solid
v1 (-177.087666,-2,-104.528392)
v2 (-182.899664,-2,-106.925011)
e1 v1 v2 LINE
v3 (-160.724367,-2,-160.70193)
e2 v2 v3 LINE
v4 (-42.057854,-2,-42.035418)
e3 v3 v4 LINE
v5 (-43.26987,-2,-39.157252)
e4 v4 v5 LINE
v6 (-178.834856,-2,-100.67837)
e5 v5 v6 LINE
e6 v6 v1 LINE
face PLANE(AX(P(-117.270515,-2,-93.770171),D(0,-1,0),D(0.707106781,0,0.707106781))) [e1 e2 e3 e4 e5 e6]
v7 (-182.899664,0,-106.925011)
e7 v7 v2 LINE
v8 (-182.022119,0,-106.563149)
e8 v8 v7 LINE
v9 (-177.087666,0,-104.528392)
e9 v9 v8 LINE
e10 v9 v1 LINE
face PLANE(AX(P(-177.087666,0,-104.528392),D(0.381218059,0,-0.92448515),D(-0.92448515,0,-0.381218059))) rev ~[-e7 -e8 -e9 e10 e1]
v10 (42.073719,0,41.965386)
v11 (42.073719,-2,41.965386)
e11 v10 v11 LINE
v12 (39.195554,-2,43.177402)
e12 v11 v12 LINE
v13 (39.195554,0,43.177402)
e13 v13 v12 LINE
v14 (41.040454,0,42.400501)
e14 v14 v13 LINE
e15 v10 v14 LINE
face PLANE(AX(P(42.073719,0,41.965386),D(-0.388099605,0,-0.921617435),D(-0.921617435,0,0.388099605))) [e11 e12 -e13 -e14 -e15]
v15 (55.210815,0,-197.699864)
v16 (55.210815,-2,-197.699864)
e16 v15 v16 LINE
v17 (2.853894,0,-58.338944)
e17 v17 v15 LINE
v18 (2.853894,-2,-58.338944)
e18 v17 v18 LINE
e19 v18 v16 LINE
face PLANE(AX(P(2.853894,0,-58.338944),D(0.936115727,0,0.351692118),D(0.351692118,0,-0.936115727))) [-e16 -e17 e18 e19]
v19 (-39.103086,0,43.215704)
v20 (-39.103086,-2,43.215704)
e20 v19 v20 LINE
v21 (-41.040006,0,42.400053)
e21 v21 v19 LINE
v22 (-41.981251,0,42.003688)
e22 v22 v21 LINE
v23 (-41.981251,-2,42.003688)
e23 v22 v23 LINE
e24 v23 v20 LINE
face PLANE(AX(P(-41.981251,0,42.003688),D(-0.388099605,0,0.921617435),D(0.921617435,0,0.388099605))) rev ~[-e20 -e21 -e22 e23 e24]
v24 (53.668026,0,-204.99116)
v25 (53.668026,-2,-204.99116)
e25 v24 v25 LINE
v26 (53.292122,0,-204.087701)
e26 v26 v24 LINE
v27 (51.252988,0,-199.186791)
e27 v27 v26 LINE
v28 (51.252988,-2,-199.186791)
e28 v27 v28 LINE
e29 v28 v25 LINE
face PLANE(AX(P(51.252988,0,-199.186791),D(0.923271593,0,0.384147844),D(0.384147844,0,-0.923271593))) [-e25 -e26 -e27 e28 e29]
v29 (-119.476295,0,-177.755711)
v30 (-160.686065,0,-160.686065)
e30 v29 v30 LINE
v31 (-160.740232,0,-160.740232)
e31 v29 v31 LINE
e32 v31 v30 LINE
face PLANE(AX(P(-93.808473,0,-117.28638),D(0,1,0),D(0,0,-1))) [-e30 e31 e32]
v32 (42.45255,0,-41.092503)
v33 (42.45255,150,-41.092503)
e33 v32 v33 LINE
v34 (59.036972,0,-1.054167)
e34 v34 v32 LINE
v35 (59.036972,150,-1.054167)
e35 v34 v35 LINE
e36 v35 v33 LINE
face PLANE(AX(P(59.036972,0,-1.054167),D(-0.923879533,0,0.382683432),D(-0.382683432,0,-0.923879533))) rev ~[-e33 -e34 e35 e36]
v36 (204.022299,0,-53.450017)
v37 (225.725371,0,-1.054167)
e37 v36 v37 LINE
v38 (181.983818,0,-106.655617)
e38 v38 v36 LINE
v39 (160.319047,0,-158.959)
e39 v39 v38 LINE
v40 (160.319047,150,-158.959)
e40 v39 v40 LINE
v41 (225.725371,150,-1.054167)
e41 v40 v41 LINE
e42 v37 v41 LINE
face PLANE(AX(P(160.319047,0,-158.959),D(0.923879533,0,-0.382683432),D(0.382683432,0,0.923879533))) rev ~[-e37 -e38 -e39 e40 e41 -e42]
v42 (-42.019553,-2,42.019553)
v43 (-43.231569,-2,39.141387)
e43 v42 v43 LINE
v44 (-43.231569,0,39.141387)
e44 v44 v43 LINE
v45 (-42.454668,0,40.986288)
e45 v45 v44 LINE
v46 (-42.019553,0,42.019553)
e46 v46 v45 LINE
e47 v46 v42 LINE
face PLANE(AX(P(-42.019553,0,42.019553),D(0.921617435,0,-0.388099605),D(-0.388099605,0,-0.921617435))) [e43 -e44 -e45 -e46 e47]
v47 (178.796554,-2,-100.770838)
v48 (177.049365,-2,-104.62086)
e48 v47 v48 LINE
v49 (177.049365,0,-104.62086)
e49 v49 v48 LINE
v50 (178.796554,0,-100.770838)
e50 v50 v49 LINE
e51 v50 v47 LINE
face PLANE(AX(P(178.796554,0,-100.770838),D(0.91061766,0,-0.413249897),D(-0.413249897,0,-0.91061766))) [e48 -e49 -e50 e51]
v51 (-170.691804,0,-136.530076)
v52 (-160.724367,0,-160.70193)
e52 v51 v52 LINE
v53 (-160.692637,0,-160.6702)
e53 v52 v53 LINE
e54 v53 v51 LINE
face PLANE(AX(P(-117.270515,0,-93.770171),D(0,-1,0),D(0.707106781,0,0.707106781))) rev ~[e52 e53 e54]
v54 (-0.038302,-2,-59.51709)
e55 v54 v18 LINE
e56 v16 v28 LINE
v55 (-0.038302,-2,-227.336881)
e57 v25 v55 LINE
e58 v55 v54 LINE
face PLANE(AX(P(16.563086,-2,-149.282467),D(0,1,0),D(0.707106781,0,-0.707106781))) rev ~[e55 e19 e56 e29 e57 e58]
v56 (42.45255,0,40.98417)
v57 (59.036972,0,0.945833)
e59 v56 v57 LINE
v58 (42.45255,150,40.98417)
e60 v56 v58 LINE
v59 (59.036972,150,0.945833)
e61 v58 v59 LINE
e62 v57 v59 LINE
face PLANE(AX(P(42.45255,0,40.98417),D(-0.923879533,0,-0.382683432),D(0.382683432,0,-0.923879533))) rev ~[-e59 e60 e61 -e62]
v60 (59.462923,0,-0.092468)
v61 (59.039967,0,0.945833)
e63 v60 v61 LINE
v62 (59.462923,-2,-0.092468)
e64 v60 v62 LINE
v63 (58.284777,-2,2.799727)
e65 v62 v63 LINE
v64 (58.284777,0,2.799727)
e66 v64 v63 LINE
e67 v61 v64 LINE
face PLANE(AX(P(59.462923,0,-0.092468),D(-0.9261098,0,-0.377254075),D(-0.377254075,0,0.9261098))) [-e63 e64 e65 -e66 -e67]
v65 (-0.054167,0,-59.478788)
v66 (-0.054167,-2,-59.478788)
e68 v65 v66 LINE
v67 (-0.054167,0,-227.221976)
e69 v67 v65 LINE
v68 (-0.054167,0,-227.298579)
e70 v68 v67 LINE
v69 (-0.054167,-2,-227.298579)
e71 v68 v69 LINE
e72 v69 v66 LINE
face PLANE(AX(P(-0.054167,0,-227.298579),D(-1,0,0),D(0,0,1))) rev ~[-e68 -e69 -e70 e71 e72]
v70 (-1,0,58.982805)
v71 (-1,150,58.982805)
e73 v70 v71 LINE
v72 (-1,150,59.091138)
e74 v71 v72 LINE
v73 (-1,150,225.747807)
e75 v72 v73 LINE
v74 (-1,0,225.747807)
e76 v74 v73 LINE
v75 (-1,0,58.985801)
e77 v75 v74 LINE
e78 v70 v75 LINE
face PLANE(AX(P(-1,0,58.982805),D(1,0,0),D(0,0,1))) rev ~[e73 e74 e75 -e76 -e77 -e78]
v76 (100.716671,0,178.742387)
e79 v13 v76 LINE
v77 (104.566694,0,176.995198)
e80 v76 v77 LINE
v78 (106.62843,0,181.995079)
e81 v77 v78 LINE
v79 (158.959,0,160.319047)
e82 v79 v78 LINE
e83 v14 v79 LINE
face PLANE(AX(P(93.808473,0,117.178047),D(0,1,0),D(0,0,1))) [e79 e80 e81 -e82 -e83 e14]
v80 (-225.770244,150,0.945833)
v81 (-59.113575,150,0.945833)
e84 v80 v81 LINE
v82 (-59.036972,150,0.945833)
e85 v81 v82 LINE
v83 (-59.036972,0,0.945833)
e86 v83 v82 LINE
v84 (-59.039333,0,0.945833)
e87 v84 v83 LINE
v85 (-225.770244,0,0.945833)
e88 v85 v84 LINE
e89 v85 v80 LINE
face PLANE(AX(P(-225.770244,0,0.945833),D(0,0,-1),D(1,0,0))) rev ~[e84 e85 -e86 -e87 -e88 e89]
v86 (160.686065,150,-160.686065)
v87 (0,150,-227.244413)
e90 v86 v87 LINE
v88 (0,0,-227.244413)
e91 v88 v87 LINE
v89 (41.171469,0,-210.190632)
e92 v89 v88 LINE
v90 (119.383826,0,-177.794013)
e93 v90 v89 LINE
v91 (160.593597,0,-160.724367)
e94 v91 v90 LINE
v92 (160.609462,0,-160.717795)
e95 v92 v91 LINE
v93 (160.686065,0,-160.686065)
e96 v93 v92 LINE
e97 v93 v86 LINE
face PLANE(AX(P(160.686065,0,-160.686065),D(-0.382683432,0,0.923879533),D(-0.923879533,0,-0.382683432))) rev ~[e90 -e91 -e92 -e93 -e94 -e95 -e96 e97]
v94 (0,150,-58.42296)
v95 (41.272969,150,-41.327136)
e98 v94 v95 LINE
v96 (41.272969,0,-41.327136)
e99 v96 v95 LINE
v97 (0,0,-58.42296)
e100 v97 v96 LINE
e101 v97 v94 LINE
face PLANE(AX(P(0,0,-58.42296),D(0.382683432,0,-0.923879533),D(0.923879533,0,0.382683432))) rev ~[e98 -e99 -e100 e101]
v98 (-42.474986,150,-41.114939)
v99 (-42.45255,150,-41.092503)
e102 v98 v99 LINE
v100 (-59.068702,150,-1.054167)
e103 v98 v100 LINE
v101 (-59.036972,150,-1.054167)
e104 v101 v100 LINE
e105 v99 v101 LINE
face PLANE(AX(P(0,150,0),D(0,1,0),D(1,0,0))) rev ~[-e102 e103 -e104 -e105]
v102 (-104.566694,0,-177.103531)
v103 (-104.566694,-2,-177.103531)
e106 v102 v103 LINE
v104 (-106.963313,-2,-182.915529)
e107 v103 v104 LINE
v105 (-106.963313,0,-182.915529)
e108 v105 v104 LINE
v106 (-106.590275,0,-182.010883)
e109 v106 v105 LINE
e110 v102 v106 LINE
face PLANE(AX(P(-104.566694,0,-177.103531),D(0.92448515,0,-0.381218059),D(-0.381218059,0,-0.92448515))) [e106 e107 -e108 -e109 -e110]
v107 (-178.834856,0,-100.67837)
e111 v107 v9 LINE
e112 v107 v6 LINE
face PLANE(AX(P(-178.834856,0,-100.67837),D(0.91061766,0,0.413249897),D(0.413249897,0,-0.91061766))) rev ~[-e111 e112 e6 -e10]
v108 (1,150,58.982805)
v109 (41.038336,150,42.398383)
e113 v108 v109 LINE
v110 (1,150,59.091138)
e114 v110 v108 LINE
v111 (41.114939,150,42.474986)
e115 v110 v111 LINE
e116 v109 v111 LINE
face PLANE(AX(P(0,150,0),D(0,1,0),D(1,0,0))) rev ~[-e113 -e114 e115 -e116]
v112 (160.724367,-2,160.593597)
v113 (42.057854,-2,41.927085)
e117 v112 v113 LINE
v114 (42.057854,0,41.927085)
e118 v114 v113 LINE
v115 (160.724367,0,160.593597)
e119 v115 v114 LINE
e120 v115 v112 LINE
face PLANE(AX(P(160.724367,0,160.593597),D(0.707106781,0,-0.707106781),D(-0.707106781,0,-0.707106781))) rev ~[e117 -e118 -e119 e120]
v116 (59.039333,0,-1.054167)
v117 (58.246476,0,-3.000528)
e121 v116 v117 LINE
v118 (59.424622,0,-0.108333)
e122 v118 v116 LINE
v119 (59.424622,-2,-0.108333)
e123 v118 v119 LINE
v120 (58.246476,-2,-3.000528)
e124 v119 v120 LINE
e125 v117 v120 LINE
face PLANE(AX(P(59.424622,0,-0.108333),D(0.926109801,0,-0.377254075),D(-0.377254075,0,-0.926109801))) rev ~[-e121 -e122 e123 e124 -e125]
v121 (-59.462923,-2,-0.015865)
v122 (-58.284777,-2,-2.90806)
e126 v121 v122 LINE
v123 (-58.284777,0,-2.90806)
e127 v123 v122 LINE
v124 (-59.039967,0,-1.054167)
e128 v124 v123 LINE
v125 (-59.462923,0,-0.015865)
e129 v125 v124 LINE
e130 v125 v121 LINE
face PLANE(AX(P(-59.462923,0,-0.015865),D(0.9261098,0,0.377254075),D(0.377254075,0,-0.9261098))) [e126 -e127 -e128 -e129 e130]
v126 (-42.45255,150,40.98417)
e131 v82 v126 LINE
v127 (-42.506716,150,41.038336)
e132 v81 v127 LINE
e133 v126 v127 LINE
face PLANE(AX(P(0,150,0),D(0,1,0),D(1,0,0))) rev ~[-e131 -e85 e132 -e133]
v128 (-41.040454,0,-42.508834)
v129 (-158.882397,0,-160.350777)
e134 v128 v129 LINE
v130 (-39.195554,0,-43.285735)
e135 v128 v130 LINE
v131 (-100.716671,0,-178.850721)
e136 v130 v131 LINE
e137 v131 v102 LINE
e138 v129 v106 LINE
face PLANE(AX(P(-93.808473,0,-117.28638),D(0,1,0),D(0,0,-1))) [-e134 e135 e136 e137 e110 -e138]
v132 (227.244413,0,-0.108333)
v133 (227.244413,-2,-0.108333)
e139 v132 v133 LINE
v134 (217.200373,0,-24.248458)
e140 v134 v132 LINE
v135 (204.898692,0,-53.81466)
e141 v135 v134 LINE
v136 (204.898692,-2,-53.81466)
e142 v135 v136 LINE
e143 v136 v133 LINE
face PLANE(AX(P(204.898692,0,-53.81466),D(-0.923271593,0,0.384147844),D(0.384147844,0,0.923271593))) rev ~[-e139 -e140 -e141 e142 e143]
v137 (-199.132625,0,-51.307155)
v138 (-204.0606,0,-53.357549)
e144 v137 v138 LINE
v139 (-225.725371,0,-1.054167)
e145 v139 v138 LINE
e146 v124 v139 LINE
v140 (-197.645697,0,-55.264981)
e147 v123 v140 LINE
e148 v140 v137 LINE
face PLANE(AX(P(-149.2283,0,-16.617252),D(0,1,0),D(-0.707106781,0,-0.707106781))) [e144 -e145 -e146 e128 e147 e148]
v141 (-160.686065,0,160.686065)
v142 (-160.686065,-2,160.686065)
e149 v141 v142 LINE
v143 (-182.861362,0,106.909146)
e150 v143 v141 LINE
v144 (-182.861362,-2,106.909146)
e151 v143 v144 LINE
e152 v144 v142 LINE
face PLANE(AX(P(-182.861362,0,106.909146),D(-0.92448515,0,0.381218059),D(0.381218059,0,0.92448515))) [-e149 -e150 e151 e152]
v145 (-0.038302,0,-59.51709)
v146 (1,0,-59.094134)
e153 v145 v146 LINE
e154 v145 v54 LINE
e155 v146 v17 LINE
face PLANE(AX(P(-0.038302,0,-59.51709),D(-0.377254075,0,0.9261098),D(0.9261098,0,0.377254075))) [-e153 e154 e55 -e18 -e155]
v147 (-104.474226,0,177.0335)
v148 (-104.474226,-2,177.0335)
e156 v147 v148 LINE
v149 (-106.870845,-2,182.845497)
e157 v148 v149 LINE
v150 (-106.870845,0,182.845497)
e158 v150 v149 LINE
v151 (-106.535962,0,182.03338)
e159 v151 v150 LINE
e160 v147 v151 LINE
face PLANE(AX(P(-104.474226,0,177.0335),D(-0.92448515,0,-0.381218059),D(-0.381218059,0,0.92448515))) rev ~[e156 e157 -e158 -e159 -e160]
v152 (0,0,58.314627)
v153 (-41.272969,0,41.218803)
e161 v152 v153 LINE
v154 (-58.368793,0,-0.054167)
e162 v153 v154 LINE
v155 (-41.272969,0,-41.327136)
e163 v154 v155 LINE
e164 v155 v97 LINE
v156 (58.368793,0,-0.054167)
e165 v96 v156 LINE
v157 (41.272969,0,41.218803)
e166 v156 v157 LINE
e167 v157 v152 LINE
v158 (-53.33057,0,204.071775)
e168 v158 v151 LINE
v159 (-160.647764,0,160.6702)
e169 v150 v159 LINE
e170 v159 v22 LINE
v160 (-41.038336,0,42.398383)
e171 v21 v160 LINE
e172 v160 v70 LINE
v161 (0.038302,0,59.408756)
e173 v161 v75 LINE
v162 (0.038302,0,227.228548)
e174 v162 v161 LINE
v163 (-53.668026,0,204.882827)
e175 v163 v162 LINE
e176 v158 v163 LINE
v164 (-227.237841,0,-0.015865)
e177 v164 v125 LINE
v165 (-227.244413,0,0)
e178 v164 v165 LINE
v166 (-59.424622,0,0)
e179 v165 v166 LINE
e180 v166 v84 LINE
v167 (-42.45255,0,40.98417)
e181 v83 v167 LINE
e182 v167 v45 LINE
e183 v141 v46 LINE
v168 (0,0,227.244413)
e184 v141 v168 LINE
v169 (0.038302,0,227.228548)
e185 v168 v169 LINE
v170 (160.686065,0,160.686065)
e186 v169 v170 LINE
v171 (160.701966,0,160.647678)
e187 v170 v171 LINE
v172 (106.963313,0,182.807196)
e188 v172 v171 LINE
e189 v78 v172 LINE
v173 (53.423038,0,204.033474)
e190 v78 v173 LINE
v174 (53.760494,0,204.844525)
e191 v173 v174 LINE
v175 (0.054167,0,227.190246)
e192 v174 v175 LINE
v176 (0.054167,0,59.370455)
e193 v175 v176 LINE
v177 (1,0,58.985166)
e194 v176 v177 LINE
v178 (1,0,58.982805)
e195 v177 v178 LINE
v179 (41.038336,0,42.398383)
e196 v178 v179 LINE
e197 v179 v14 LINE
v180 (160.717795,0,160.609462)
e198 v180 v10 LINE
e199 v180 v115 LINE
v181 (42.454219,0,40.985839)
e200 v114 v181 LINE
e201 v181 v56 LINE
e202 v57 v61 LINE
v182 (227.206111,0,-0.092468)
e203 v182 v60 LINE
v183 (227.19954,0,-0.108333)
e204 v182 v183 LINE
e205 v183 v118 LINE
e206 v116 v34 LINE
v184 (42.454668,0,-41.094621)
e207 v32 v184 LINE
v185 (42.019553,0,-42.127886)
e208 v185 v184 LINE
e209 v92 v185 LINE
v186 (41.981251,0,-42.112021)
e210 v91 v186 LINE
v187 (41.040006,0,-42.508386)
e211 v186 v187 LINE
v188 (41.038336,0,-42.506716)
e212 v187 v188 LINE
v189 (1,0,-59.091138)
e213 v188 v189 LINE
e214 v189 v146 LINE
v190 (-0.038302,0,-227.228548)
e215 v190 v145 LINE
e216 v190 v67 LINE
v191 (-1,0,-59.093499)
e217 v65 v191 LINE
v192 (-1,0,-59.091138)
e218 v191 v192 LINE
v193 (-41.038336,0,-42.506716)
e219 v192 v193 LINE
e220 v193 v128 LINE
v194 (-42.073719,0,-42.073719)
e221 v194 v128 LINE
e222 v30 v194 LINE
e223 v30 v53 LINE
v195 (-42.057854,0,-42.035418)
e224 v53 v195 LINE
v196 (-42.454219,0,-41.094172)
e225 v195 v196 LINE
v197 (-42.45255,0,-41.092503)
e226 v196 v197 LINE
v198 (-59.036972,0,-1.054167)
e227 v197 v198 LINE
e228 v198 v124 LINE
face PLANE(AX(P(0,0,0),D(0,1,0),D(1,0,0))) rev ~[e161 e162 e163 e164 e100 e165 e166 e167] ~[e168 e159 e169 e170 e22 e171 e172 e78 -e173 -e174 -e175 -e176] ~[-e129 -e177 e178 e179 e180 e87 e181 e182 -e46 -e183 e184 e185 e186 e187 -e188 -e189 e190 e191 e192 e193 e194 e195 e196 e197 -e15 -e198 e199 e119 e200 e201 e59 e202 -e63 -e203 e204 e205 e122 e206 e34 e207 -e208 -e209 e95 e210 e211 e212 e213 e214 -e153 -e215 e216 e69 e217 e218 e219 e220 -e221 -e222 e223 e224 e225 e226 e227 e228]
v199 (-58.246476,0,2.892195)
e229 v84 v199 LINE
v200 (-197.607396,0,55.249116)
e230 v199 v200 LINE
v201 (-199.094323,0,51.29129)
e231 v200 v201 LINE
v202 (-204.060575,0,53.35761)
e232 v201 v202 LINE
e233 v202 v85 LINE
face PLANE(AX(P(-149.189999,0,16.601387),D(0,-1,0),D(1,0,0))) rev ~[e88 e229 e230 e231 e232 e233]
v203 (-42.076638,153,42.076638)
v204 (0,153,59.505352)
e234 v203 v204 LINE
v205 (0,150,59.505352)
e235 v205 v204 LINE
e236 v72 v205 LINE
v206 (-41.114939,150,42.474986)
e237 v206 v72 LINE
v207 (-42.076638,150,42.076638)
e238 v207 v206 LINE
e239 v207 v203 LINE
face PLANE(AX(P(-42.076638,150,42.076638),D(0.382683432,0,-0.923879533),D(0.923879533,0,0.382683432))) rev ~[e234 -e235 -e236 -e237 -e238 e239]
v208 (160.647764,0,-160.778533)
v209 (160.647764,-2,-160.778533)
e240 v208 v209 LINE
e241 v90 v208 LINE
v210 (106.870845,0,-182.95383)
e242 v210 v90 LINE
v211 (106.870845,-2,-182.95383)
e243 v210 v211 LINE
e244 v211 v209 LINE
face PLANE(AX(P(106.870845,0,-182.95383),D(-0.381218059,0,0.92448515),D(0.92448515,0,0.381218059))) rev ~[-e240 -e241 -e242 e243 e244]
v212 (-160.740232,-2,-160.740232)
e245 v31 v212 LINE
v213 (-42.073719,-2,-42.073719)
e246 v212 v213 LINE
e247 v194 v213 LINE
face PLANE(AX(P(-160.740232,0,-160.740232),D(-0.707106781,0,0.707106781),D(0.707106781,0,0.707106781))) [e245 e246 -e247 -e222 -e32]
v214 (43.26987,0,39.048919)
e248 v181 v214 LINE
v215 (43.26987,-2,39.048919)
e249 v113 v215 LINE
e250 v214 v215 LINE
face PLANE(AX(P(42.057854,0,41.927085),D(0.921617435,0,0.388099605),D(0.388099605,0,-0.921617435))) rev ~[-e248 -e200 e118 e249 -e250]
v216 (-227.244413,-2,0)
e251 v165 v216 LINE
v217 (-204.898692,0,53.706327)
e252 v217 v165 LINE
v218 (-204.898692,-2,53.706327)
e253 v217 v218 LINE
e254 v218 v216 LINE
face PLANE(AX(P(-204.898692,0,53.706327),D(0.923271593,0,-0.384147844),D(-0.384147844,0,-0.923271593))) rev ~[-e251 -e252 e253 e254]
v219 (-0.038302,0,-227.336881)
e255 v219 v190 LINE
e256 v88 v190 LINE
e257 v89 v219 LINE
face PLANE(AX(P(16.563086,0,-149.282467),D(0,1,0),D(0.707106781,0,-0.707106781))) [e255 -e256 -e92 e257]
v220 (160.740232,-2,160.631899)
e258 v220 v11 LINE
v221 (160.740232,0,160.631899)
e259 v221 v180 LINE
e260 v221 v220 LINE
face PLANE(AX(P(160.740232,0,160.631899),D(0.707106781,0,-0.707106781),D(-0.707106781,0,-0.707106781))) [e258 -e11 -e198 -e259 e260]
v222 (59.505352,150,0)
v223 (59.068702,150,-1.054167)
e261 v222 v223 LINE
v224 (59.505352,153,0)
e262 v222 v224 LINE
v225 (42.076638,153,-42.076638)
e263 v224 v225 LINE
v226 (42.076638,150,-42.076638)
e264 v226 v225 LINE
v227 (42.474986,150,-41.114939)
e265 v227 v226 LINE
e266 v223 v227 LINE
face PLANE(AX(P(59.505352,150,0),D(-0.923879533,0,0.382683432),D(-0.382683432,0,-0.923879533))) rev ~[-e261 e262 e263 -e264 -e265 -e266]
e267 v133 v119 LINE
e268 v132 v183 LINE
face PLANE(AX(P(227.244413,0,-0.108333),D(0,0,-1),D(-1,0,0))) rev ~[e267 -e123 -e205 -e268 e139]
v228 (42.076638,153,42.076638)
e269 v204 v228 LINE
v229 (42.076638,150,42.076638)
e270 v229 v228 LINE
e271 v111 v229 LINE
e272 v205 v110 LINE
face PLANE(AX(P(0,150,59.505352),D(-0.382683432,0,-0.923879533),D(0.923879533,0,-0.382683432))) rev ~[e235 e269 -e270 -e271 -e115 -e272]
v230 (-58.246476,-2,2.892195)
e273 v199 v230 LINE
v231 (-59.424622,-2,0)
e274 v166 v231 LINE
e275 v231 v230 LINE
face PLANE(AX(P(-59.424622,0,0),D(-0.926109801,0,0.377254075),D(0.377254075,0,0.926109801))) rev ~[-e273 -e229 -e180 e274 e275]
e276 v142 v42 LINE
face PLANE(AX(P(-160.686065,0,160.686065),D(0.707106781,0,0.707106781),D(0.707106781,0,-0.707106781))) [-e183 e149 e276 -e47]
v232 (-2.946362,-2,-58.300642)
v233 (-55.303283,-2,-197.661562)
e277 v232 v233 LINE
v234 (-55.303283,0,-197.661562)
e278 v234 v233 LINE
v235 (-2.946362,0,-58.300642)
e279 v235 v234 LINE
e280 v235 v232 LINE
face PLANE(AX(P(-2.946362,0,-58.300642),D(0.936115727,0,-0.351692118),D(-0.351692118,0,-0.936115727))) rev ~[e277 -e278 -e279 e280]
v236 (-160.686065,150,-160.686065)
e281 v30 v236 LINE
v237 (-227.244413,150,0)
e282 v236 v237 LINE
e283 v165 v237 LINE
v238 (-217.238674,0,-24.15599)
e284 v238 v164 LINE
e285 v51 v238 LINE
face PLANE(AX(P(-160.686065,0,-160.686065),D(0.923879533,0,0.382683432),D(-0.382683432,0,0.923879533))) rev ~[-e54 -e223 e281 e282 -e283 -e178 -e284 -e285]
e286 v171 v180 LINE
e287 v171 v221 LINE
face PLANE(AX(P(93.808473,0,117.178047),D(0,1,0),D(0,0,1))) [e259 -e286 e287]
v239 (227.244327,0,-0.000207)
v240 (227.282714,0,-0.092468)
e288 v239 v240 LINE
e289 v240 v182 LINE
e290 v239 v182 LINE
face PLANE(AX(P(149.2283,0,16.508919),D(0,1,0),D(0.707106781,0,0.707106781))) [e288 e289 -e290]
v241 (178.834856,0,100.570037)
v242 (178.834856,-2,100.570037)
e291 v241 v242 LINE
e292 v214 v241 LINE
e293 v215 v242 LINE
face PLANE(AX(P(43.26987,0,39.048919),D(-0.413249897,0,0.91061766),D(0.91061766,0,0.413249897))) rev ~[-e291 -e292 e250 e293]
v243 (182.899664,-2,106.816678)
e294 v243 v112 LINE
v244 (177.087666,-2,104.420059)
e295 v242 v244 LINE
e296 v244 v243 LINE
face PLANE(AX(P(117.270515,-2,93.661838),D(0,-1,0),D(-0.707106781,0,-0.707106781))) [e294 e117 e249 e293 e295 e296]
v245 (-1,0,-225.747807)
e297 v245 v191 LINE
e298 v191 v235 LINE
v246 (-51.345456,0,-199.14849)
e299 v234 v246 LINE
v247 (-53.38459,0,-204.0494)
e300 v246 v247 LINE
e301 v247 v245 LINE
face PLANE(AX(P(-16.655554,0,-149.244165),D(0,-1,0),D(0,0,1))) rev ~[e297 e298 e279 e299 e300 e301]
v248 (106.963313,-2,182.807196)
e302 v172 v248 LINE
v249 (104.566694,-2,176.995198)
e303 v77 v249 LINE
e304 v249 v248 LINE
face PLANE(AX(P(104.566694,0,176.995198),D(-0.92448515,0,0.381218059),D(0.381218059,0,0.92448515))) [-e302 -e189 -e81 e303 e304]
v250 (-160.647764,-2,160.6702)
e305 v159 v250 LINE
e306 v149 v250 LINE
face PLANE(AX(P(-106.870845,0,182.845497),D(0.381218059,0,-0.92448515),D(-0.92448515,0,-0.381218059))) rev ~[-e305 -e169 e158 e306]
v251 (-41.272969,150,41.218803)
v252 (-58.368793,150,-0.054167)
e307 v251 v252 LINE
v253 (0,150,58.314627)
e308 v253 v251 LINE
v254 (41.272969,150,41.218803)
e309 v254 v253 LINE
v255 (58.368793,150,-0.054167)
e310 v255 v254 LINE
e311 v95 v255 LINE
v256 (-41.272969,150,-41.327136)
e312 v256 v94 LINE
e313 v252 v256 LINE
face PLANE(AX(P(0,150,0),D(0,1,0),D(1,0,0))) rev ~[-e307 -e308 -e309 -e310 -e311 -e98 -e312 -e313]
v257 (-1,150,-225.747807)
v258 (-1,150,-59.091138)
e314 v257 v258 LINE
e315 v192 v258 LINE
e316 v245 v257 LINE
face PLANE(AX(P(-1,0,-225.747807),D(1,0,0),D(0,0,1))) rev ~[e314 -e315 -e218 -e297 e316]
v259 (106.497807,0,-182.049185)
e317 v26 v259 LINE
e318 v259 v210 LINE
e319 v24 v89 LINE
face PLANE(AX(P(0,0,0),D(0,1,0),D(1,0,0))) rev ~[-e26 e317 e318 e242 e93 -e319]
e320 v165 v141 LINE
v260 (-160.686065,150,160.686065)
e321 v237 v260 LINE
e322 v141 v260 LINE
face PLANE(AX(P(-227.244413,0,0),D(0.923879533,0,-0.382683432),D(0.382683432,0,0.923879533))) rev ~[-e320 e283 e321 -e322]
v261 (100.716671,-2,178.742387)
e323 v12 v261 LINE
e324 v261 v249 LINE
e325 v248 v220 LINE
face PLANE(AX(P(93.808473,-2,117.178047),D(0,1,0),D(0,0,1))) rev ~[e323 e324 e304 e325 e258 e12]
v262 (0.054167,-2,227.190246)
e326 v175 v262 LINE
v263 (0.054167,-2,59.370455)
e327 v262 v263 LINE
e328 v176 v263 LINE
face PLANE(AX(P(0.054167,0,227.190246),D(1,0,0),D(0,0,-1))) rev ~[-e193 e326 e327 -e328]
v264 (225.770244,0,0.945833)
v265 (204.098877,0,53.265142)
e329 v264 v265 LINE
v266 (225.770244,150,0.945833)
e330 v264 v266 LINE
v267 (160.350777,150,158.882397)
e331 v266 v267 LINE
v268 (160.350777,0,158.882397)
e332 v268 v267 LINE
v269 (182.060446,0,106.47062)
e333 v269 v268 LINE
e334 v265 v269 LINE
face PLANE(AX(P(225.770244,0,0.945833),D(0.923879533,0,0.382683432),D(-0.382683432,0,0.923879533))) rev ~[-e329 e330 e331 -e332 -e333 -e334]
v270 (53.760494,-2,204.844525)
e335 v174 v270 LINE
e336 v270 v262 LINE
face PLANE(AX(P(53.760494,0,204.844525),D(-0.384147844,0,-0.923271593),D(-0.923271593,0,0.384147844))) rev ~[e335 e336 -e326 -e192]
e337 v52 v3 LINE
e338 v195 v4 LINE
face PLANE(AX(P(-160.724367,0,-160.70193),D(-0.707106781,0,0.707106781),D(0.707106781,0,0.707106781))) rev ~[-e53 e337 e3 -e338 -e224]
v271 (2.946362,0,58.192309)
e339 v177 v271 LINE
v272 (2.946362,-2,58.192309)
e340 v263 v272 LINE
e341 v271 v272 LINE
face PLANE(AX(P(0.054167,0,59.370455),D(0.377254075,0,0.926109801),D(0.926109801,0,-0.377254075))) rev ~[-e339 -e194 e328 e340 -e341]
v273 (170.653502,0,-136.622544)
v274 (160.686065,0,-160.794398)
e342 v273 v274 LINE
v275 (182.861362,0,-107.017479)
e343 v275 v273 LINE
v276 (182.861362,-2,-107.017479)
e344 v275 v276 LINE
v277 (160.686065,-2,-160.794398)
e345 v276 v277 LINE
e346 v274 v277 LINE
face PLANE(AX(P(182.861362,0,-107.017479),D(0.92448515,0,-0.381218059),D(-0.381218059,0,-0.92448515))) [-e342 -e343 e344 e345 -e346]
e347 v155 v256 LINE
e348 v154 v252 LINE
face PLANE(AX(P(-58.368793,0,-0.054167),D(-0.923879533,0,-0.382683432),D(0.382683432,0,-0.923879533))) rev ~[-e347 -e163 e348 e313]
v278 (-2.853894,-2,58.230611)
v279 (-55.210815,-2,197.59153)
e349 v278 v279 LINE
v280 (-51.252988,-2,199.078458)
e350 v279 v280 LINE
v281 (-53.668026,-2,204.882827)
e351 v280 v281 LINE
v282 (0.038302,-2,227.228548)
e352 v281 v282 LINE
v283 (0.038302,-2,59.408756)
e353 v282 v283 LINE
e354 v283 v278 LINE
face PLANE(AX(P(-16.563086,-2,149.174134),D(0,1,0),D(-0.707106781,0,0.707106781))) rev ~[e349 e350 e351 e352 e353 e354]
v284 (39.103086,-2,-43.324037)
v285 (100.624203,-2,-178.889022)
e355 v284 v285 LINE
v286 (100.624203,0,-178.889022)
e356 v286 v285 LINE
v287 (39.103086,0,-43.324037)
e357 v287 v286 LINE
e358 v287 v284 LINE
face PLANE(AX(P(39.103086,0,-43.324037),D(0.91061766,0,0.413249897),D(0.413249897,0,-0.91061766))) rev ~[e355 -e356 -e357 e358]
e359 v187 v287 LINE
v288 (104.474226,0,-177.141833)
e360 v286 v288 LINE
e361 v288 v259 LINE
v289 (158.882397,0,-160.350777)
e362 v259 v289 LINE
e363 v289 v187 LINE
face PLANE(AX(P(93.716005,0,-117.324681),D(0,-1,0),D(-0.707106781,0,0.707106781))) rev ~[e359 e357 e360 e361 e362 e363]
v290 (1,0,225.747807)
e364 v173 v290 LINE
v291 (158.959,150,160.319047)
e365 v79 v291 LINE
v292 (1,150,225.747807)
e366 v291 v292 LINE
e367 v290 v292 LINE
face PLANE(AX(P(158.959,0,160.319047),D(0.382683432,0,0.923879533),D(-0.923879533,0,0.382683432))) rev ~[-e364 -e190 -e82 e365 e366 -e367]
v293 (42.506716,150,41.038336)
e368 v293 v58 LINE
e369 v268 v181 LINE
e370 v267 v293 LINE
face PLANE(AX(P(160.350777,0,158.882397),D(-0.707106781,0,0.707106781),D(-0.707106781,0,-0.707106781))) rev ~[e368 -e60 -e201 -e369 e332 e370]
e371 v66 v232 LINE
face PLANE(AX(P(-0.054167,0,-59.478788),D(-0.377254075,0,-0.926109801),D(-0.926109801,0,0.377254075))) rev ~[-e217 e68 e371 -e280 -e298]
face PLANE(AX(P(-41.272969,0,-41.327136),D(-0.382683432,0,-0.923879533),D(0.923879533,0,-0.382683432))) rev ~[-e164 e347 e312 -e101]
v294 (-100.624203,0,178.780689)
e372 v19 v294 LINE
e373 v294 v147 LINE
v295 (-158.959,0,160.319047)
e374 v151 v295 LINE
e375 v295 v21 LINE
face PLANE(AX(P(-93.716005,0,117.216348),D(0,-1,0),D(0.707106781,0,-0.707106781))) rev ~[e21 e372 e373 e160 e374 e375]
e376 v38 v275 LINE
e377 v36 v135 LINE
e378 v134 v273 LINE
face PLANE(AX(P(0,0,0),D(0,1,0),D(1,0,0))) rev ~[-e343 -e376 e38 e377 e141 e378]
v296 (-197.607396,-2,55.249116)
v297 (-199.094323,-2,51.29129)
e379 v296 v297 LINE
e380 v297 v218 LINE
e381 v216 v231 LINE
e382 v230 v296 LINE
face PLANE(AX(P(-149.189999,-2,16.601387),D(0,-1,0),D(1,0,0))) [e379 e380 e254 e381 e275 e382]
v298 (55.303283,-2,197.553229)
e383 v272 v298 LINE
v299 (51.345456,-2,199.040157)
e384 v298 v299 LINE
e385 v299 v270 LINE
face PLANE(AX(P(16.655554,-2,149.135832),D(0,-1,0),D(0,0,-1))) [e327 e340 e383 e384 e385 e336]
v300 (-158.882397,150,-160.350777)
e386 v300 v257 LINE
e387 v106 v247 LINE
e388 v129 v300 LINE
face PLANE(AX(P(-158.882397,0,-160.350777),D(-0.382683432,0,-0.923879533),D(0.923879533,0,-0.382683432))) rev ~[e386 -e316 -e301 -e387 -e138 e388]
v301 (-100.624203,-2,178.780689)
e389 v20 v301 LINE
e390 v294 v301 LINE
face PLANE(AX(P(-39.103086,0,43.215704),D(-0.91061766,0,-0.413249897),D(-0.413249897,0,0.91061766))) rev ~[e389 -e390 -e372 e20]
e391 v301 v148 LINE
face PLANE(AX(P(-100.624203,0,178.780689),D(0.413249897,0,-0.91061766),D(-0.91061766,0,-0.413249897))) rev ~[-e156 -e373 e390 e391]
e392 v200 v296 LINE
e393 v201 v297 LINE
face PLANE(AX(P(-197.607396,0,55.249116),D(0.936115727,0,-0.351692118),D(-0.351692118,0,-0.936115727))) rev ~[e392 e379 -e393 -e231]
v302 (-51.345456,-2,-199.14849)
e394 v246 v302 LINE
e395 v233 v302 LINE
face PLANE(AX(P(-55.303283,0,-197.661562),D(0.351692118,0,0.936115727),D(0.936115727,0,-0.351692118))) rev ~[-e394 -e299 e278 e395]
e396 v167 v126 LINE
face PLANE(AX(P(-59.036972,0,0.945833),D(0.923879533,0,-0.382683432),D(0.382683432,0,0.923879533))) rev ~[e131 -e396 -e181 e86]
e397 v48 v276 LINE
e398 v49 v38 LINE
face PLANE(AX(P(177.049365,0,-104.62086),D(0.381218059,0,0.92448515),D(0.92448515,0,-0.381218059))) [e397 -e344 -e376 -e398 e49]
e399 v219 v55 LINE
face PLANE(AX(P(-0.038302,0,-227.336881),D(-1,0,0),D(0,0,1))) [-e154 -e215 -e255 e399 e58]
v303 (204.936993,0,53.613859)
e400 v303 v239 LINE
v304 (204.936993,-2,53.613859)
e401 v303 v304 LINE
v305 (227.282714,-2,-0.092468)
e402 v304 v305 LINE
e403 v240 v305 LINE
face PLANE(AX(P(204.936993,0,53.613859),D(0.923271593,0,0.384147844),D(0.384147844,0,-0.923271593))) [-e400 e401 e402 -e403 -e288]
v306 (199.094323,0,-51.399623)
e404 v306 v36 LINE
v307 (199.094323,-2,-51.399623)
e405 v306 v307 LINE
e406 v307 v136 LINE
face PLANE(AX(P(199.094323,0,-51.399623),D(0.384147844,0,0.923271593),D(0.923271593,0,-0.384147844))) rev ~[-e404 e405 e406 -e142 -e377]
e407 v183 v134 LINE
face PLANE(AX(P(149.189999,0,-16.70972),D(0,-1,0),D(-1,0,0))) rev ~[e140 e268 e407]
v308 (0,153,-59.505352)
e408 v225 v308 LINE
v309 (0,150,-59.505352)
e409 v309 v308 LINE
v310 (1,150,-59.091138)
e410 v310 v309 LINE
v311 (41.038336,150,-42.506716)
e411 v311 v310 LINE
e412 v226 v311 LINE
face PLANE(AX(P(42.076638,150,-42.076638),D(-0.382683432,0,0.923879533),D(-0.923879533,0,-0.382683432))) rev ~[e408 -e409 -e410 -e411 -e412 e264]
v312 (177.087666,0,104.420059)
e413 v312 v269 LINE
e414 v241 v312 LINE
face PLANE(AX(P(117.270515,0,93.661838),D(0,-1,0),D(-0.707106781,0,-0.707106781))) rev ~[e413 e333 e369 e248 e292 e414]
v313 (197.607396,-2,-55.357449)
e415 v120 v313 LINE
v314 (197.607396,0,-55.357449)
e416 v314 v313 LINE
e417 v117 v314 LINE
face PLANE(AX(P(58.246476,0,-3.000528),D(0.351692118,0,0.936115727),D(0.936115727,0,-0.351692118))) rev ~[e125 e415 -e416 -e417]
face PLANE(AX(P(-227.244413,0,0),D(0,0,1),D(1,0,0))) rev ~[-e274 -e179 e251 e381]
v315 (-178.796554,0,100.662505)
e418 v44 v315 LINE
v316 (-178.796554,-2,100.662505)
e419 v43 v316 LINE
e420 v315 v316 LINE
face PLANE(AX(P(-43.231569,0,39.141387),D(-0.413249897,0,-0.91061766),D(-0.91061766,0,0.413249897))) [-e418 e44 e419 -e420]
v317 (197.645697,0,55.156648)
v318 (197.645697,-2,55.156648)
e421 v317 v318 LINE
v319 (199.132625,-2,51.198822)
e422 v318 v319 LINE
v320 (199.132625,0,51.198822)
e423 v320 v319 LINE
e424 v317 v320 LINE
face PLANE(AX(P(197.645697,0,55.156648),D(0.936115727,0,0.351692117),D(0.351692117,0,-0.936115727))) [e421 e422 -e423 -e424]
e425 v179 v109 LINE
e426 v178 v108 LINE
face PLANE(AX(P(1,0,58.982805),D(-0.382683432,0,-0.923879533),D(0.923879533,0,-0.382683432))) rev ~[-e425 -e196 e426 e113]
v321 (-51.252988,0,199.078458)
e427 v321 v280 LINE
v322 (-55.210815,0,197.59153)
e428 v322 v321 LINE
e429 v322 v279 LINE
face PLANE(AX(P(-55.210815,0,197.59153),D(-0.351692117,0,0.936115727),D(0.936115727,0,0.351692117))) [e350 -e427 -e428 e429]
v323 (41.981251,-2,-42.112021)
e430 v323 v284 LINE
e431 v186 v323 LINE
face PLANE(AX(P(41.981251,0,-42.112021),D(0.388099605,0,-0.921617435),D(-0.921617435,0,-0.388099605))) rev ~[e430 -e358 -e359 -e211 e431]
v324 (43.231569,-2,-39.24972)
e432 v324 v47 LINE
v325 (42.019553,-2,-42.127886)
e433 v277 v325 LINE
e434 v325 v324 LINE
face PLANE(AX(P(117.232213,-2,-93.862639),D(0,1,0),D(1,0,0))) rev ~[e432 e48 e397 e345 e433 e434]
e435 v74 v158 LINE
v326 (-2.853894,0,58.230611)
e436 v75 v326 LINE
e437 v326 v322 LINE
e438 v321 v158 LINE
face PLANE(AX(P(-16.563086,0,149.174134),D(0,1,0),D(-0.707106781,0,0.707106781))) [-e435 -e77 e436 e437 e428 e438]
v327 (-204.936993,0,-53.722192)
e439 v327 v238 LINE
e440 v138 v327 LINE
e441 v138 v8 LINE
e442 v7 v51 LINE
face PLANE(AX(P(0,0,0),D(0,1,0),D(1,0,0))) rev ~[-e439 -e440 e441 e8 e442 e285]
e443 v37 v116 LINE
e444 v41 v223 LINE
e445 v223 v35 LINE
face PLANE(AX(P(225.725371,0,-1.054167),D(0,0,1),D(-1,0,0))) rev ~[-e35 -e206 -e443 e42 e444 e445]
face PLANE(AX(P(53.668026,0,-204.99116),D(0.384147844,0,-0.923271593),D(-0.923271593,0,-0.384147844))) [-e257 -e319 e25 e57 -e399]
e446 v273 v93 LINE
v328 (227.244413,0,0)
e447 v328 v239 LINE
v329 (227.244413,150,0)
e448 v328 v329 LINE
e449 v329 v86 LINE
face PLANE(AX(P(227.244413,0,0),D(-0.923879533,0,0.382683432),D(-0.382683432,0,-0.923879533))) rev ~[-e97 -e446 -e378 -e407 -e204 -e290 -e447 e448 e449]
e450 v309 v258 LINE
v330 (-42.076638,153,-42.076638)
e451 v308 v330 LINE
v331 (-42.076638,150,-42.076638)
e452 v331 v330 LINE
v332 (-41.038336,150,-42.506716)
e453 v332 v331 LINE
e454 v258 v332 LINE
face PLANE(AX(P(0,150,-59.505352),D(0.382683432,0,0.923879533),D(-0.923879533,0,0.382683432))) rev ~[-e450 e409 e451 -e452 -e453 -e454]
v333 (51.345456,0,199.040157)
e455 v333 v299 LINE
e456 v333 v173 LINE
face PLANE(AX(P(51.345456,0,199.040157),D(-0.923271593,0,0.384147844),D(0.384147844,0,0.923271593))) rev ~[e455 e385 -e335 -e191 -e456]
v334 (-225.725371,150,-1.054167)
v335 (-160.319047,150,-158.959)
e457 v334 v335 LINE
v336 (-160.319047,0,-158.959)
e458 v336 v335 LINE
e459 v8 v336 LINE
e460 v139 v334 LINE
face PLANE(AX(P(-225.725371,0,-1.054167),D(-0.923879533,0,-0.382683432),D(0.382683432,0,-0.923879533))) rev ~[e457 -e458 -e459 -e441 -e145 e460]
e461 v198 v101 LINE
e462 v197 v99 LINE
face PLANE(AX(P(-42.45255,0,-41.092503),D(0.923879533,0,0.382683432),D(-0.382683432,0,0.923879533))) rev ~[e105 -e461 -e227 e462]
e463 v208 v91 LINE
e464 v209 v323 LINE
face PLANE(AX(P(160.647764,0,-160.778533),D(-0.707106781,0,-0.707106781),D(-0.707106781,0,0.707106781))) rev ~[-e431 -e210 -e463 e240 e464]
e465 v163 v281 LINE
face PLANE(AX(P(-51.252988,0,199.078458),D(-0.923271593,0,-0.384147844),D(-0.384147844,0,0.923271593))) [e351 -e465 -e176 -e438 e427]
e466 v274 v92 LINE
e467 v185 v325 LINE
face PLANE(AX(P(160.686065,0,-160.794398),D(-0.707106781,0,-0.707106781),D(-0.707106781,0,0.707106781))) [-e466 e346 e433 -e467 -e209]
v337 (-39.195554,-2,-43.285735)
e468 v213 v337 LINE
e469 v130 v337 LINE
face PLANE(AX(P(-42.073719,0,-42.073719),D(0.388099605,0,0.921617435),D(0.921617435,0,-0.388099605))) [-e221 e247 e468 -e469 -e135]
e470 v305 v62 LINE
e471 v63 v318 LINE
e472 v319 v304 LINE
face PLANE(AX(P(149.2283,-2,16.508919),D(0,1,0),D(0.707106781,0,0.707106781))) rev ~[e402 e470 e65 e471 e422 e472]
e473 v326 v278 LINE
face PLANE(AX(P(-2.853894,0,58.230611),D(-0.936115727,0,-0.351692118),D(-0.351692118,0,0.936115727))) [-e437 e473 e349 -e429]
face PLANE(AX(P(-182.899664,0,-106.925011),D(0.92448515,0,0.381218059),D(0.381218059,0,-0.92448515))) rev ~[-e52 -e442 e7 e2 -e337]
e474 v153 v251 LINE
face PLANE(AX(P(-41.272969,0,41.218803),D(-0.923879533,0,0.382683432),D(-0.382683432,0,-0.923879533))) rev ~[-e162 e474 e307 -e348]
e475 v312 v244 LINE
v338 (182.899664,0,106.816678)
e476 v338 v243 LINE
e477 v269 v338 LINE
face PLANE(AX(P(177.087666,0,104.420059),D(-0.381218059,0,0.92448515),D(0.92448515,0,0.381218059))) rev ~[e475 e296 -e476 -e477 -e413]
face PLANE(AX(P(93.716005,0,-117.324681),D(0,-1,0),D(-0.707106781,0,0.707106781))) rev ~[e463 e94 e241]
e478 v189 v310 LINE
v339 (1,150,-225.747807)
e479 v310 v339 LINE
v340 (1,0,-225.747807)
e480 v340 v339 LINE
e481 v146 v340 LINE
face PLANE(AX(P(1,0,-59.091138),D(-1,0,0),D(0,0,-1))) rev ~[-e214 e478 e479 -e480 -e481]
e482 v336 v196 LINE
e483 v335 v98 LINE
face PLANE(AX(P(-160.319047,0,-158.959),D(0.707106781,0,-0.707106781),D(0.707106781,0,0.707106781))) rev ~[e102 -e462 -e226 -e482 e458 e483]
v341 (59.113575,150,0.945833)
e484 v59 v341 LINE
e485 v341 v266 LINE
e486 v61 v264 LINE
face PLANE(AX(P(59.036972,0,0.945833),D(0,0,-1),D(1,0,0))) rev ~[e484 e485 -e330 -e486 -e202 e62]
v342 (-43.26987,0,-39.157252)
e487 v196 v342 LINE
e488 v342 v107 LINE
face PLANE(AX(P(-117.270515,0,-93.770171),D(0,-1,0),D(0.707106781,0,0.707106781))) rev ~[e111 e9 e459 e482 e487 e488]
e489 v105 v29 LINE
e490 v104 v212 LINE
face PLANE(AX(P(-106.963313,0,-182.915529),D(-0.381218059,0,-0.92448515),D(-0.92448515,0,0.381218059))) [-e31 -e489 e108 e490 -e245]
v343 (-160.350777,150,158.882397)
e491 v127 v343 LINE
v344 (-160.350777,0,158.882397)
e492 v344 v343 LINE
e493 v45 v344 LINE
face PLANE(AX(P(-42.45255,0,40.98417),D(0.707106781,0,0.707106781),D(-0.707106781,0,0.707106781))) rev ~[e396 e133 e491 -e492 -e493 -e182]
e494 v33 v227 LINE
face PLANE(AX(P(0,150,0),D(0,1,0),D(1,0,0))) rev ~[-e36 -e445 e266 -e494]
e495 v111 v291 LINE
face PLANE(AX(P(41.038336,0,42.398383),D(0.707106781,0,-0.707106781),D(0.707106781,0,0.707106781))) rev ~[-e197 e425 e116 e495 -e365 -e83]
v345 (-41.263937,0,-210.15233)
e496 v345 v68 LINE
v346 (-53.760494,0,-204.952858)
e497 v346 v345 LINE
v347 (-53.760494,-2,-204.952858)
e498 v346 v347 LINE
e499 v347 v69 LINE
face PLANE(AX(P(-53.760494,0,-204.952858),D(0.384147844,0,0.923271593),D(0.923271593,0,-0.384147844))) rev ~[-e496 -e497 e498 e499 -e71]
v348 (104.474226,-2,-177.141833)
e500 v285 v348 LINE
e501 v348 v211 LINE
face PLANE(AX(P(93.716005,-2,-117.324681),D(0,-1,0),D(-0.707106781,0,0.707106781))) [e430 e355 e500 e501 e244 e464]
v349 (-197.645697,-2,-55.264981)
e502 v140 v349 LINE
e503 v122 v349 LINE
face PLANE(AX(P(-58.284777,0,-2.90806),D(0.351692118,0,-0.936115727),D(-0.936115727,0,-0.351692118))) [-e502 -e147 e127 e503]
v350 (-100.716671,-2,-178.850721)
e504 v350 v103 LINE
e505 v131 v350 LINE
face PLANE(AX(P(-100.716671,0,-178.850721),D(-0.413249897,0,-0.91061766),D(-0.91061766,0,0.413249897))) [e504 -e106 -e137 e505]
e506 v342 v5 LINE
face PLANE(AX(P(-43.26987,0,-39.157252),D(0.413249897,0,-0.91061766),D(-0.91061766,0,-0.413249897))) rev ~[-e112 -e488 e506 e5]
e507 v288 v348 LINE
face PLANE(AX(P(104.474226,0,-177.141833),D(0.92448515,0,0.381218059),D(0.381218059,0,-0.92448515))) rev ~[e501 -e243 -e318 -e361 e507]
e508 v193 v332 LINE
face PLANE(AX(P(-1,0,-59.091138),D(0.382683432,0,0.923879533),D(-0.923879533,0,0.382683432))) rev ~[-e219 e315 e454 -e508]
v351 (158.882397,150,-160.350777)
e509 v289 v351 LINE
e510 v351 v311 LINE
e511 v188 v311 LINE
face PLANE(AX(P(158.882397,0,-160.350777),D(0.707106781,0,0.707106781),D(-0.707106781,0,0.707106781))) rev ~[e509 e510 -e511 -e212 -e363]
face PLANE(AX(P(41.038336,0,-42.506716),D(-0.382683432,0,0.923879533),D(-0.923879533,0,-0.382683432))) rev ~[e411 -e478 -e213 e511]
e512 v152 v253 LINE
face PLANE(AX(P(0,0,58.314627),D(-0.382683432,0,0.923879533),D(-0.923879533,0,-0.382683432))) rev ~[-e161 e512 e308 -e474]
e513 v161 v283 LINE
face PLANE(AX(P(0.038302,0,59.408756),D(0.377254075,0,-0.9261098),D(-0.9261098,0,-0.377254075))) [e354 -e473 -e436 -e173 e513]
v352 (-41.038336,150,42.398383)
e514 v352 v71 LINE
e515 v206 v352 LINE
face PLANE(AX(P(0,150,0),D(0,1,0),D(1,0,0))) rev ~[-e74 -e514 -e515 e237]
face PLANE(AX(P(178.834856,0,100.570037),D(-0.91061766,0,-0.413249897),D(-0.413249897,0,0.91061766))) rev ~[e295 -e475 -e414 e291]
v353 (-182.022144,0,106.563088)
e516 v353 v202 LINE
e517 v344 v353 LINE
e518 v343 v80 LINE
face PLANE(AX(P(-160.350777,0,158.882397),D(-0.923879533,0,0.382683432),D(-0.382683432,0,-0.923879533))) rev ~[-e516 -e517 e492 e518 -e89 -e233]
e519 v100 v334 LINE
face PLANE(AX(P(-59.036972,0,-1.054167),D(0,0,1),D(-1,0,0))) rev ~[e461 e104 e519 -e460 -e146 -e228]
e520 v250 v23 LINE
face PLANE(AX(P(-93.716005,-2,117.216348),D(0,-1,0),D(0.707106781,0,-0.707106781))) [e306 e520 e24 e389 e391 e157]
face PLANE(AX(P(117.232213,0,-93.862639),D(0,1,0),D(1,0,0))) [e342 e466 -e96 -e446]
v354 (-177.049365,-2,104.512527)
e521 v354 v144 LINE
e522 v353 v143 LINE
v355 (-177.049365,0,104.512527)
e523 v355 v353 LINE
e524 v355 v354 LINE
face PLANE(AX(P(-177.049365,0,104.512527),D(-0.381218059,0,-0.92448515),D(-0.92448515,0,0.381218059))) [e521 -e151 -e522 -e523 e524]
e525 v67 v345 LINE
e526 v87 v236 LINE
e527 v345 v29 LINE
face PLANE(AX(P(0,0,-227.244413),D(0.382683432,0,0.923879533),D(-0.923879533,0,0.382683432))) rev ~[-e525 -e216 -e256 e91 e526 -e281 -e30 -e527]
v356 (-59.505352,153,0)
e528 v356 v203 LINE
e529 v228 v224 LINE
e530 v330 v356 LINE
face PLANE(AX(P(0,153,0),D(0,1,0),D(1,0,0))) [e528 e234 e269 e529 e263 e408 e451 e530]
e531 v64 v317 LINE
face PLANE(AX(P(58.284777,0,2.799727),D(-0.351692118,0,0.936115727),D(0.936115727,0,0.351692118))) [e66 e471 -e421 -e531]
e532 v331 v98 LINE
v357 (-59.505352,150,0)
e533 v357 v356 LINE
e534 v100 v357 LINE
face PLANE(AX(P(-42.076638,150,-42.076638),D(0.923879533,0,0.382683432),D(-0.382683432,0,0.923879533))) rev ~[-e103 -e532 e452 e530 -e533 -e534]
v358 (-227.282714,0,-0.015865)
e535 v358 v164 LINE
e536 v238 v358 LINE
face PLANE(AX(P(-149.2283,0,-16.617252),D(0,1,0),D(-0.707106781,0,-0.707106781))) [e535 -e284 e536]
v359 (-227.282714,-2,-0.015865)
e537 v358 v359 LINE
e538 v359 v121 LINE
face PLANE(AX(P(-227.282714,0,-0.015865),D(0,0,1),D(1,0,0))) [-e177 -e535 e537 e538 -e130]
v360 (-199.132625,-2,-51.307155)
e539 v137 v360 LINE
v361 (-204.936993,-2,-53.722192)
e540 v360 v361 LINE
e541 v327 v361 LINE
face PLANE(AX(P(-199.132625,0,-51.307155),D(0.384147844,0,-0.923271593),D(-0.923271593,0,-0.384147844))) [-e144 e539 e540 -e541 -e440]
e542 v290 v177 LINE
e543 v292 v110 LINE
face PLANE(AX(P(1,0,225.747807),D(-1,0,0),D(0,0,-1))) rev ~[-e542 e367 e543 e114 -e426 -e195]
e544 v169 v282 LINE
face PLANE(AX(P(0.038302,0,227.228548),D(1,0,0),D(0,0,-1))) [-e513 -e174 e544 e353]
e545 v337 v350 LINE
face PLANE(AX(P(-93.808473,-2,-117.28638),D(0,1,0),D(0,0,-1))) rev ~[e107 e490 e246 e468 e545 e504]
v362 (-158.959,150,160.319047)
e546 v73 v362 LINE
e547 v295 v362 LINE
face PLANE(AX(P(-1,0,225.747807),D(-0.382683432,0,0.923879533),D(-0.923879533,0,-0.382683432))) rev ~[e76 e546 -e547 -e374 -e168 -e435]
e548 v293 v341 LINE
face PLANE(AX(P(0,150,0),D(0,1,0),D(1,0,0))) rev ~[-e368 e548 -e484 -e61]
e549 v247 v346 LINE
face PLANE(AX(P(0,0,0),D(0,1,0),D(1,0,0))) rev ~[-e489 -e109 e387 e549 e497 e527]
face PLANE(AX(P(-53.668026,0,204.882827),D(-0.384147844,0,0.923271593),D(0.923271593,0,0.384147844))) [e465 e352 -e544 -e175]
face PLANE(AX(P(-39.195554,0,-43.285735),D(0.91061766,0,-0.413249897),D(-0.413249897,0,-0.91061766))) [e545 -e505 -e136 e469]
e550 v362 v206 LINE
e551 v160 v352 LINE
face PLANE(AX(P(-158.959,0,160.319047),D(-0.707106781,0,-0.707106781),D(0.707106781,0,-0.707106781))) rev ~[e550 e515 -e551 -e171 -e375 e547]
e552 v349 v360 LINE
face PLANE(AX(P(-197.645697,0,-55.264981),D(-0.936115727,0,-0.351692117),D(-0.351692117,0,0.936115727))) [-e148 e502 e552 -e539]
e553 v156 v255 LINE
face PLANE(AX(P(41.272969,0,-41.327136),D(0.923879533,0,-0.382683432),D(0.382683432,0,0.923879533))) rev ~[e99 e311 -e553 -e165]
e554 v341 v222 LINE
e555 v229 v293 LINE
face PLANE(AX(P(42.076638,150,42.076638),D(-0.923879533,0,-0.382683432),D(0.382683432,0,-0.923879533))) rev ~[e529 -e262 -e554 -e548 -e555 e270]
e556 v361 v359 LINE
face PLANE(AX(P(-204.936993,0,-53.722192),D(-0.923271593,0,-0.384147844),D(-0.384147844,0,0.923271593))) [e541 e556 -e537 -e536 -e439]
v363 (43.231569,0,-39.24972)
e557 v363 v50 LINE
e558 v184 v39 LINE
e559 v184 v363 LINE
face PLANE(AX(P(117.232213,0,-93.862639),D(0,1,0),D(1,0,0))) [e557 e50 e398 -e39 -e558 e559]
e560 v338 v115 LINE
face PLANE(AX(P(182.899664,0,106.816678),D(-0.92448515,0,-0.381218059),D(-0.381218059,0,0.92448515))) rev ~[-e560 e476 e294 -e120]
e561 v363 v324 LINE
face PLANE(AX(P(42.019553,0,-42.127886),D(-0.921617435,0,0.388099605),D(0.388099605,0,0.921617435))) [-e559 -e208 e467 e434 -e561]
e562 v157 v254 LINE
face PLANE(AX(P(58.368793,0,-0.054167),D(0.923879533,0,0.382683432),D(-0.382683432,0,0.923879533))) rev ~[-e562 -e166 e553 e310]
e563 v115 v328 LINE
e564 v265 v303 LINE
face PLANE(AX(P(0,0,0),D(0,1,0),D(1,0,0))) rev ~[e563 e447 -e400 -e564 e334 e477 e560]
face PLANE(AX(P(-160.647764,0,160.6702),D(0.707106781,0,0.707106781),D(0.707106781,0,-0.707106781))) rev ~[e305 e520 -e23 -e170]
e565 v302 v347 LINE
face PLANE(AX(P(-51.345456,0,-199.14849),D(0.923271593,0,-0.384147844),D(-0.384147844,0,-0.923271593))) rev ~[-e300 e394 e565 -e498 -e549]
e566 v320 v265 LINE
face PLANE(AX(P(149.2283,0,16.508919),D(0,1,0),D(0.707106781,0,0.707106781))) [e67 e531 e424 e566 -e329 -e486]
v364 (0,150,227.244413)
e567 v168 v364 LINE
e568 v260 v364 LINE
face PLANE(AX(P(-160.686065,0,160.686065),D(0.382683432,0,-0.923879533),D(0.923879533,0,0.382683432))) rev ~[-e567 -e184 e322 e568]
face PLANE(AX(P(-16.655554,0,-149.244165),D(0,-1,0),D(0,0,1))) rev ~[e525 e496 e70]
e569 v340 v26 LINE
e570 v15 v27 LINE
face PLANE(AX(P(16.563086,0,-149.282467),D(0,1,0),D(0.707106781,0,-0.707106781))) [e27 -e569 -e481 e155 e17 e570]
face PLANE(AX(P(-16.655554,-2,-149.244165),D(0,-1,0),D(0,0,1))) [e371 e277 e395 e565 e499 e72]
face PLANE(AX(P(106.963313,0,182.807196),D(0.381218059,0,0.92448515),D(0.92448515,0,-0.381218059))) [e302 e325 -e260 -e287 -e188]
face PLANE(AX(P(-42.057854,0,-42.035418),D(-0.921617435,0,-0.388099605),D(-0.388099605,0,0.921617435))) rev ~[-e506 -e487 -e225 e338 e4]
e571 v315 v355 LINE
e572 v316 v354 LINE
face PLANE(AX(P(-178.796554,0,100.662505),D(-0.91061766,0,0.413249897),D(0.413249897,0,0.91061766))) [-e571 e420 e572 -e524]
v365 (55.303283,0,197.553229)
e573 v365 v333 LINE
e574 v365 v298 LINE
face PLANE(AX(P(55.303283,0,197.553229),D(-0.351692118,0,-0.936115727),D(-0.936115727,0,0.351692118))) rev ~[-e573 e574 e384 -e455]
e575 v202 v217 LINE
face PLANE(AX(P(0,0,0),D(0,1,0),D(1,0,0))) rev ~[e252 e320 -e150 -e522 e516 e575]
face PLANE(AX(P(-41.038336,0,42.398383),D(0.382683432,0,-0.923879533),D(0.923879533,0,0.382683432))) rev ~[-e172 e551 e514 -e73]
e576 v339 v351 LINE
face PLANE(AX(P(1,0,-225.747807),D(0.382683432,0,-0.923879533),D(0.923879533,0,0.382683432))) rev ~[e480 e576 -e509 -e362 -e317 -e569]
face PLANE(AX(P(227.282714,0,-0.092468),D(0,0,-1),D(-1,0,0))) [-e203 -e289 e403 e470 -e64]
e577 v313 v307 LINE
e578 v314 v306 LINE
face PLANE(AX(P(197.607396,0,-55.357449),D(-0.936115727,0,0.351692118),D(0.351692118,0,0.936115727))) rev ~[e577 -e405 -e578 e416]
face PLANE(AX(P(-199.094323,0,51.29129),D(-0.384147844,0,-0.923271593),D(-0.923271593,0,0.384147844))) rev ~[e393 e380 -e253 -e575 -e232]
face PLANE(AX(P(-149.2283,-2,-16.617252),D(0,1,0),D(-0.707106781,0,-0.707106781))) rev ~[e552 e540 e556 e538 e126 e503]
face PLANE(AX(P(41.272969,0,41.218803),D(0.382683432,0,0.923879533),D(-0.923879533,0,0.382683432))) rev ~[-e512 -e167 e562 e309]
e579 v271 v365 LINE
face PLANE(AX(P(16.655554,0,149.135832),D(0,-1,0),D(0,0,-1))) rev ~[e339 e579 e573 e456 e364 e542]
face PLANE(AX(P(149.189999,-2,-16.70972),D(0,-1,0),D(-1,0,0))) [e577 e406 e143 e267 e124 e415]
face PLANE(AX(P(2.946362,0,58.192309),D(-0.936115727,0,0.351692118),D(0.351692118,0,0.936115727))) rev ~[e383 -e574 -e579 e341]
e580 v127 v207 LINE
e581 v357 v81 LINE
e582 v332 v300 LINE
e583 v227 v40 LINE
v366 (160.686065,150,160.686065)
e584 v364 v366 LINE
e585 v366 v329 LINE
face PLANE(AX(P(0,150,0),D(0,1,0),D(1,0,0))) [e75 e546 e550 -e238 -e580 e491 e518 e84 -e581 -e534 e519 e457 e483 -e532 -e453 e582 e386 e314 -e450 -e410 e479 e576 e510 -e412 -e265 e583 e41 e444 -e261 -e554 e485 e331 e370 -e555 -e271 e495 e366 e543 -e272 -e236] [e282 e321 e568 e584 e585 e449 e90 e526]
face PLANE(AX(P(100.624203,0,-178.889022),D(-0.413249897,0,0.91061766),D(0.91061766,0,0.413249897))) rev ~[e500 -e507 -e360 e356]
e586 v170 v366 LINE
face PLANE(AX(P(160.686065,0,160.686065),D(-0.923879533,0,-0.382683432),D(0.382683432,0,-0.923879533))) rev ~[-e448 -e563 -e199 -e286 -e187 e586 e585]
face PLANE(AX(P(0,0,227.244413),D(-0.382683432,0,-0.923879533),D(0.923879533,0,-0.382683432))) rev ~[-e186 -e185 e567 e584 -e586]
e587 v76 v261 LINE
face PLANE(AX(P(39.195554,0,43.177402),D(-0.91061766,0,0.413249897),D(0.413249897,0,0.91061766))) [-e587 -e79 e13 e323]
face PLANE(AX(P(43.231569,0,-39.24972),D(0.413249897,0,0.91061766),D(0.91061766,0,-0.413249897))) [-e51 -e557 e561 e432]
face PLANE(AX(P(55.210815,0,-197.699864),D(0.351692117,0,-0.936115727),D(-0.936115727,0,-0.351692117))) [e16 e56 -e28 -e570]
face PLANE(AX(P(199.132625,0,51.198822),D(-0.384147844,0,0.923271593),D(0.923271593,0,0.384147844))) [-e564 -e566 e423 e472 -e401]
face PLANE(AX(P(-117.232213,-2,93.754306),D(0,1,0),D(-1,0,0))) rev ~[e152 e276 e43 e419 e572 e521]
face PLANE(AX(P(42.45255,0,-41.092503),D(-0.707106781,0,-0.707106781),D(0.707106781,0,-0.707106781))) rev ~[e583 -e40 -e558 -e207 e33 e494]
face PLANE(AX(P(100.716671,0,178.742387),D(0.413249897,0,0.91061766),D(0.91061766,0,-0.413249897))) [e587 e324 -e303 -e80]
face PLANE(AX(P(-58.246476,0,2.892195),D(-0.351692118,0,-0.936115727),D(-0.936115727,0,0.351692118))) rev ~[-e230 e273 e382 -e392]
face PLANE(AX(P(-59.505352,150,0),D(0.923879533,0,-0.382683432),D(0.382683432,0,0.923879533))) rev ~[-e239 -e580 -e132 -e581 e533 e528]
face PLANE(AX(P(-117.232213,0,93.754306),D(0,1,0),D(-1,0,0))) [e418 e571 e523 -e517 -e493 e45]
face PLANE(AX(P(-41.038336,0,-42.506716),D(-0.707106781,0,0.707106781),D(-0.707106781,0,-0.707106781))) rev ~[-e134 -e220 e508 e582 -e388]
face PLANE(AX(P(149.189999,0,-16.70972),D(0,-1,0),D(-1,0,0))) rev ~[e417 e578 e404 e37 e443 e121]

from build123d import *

# Parameters (mm, degrees)
BOSS_EXTRUDE1_DEPTH = 150
BOSS_EXTRUDE2_DEPTH = 3
BOSS_EXTRUDE3_DEPTH = 2
CIRPATTERN1_COUNT   = 8


with BuildPart() as part:
    # Sketch1 → Boss-Extrude1 (new body)
    with BuildSketch(Plane(origin=(0, 0, 0), x_dir=(1, 0, 0), z_dir=(0, 1, 0))):
        Polygon((227.244412963, 0), (160.686065393, 160.686065393), (0, 227.244412963), (-160.686065393, 160.686065393), (-227.244412963, 0), (-160.686065393, -160.686065393), (0, -227.244412963), (160.686065393, -160.686065393), align=None)
        Polygon((-158.959000036, -160.319047086), (-41.038336356, -42.398383406), (-1, -58.982805339), (-1, -225.7478072), align=None, mode=Mode.SUBTRACT)
        Polygon((-225.770243704, -0.945833488), (-59.036971851, -0.945833488), (-42.452549918, -40.984169844), (-160.350777095, -158.88239702), align=None, mode=Mode.SUBTRACT)
        Polygon((1, -225.7478072), (1, -58.982805339), (41.038336356, -42.398383406), (158.959000036, -160.319047086), align=None, mode=Mode.SUBTRACT)
        Polygon((160.350777095, -158.88239702), (42.452549918, -40.984169844), (59.036971851, -0.945833488), (225.770243704, -0.945833488), align=None, mode=Mode.SUBTRACT)
        Polygon((-160.319047086, 158.959000036), (-42.452549918, 41.092502868), (-59.036971851, 1.054166512), (-225.725370696, 1.054166512), align=None, mode=Mode.SUBTRACT)
        Polygon((-41.272969491, 41.327136003), (0, 58.422959726), (41.272969491, 41.327136003), (58.368793213, 0.054166512), (41.272969491, -41.218802979), (0, -58.314626701), (-41.272969491, -41.218802979), (-58.368793213, 0.054166512), align=None, mode=Mode.SUBTRACT)
        Polygon((-1, 225.7478072), (-1, 59.091138364), (-41.038336356, 42.50671643), (-158.88239702, 160.350777095), align=None, mode=Mode.SUBTRACT)
        Polygon((225.725370696, 1.054166512), (59.036971851, 1.054166512), (42.452549918, 41.092502868), (160.319047086, 158.959000036), align=None, mode=Mode.SUBTRACT)
        Polygon((158.88239702, 160.350777095), (41.038336356, 42.50671643), (1, 59.091138364), (1, 225.7478072), align=None, mode=Mode.SUBTRACT)
    extrude(amount=BOSS_EXTRUDE1_DEPTH)

    # Sketch2 → Boss-Extrude2 (add)
    with BuildSketch(Plane(origin=(0, 150, 0), x_dir=(1, 0, 0), z_dir=(0, 1, 0))):
        Polygon((0, 59.505351926), (-42.076637864, 42.076637864), (-59.505351926, 0), (-42.076637864, -42.076637864), (0, -59.505351926), (42.076637864, -42.076637864), (59.505351926, 0), (42.076637864, 42.076637864), align=None)
    extrude(amount=BOSS_EXTRUDE2_DEPTH)

    # Sketch4 → Boss-Extrude3 (add)
    with BuildSketch(Plane.XZ):
        Polygon((-43.23156875, 39.141387058), (-178.796553997, 100.662504749), (-177.049364724, 104.512527258), (-182.861362419, 106.909146045), (-160.686065393, 160.686065393), (-42.019552833, 42.019552833), align=None)
        Polygon((-58.246475638, 2.892195211), (-197.607395503, 55.249116065), (-199.094323145, 51.291289658), (-204.898691523, 53.706327244), (-227.244412963, 0), (-59.424621501, 0), align=None)
    boss_extrude3 = extrude(amount=BOSS_EXTRUDE3_DEPTH)

    # CirPattern1: Boss-Extrude3 ×8 about axis
    cirpattern1_axis = Axis((0, 0, -0.054166512), (0, 1, 0))
    for i in range(1, CIRPATTERN1_COUNT):
        add(boss_extrude3.rotate(cirpattern1_axis, i * 360 / CIRPATTERN1_COUNT))


solid = part.part
